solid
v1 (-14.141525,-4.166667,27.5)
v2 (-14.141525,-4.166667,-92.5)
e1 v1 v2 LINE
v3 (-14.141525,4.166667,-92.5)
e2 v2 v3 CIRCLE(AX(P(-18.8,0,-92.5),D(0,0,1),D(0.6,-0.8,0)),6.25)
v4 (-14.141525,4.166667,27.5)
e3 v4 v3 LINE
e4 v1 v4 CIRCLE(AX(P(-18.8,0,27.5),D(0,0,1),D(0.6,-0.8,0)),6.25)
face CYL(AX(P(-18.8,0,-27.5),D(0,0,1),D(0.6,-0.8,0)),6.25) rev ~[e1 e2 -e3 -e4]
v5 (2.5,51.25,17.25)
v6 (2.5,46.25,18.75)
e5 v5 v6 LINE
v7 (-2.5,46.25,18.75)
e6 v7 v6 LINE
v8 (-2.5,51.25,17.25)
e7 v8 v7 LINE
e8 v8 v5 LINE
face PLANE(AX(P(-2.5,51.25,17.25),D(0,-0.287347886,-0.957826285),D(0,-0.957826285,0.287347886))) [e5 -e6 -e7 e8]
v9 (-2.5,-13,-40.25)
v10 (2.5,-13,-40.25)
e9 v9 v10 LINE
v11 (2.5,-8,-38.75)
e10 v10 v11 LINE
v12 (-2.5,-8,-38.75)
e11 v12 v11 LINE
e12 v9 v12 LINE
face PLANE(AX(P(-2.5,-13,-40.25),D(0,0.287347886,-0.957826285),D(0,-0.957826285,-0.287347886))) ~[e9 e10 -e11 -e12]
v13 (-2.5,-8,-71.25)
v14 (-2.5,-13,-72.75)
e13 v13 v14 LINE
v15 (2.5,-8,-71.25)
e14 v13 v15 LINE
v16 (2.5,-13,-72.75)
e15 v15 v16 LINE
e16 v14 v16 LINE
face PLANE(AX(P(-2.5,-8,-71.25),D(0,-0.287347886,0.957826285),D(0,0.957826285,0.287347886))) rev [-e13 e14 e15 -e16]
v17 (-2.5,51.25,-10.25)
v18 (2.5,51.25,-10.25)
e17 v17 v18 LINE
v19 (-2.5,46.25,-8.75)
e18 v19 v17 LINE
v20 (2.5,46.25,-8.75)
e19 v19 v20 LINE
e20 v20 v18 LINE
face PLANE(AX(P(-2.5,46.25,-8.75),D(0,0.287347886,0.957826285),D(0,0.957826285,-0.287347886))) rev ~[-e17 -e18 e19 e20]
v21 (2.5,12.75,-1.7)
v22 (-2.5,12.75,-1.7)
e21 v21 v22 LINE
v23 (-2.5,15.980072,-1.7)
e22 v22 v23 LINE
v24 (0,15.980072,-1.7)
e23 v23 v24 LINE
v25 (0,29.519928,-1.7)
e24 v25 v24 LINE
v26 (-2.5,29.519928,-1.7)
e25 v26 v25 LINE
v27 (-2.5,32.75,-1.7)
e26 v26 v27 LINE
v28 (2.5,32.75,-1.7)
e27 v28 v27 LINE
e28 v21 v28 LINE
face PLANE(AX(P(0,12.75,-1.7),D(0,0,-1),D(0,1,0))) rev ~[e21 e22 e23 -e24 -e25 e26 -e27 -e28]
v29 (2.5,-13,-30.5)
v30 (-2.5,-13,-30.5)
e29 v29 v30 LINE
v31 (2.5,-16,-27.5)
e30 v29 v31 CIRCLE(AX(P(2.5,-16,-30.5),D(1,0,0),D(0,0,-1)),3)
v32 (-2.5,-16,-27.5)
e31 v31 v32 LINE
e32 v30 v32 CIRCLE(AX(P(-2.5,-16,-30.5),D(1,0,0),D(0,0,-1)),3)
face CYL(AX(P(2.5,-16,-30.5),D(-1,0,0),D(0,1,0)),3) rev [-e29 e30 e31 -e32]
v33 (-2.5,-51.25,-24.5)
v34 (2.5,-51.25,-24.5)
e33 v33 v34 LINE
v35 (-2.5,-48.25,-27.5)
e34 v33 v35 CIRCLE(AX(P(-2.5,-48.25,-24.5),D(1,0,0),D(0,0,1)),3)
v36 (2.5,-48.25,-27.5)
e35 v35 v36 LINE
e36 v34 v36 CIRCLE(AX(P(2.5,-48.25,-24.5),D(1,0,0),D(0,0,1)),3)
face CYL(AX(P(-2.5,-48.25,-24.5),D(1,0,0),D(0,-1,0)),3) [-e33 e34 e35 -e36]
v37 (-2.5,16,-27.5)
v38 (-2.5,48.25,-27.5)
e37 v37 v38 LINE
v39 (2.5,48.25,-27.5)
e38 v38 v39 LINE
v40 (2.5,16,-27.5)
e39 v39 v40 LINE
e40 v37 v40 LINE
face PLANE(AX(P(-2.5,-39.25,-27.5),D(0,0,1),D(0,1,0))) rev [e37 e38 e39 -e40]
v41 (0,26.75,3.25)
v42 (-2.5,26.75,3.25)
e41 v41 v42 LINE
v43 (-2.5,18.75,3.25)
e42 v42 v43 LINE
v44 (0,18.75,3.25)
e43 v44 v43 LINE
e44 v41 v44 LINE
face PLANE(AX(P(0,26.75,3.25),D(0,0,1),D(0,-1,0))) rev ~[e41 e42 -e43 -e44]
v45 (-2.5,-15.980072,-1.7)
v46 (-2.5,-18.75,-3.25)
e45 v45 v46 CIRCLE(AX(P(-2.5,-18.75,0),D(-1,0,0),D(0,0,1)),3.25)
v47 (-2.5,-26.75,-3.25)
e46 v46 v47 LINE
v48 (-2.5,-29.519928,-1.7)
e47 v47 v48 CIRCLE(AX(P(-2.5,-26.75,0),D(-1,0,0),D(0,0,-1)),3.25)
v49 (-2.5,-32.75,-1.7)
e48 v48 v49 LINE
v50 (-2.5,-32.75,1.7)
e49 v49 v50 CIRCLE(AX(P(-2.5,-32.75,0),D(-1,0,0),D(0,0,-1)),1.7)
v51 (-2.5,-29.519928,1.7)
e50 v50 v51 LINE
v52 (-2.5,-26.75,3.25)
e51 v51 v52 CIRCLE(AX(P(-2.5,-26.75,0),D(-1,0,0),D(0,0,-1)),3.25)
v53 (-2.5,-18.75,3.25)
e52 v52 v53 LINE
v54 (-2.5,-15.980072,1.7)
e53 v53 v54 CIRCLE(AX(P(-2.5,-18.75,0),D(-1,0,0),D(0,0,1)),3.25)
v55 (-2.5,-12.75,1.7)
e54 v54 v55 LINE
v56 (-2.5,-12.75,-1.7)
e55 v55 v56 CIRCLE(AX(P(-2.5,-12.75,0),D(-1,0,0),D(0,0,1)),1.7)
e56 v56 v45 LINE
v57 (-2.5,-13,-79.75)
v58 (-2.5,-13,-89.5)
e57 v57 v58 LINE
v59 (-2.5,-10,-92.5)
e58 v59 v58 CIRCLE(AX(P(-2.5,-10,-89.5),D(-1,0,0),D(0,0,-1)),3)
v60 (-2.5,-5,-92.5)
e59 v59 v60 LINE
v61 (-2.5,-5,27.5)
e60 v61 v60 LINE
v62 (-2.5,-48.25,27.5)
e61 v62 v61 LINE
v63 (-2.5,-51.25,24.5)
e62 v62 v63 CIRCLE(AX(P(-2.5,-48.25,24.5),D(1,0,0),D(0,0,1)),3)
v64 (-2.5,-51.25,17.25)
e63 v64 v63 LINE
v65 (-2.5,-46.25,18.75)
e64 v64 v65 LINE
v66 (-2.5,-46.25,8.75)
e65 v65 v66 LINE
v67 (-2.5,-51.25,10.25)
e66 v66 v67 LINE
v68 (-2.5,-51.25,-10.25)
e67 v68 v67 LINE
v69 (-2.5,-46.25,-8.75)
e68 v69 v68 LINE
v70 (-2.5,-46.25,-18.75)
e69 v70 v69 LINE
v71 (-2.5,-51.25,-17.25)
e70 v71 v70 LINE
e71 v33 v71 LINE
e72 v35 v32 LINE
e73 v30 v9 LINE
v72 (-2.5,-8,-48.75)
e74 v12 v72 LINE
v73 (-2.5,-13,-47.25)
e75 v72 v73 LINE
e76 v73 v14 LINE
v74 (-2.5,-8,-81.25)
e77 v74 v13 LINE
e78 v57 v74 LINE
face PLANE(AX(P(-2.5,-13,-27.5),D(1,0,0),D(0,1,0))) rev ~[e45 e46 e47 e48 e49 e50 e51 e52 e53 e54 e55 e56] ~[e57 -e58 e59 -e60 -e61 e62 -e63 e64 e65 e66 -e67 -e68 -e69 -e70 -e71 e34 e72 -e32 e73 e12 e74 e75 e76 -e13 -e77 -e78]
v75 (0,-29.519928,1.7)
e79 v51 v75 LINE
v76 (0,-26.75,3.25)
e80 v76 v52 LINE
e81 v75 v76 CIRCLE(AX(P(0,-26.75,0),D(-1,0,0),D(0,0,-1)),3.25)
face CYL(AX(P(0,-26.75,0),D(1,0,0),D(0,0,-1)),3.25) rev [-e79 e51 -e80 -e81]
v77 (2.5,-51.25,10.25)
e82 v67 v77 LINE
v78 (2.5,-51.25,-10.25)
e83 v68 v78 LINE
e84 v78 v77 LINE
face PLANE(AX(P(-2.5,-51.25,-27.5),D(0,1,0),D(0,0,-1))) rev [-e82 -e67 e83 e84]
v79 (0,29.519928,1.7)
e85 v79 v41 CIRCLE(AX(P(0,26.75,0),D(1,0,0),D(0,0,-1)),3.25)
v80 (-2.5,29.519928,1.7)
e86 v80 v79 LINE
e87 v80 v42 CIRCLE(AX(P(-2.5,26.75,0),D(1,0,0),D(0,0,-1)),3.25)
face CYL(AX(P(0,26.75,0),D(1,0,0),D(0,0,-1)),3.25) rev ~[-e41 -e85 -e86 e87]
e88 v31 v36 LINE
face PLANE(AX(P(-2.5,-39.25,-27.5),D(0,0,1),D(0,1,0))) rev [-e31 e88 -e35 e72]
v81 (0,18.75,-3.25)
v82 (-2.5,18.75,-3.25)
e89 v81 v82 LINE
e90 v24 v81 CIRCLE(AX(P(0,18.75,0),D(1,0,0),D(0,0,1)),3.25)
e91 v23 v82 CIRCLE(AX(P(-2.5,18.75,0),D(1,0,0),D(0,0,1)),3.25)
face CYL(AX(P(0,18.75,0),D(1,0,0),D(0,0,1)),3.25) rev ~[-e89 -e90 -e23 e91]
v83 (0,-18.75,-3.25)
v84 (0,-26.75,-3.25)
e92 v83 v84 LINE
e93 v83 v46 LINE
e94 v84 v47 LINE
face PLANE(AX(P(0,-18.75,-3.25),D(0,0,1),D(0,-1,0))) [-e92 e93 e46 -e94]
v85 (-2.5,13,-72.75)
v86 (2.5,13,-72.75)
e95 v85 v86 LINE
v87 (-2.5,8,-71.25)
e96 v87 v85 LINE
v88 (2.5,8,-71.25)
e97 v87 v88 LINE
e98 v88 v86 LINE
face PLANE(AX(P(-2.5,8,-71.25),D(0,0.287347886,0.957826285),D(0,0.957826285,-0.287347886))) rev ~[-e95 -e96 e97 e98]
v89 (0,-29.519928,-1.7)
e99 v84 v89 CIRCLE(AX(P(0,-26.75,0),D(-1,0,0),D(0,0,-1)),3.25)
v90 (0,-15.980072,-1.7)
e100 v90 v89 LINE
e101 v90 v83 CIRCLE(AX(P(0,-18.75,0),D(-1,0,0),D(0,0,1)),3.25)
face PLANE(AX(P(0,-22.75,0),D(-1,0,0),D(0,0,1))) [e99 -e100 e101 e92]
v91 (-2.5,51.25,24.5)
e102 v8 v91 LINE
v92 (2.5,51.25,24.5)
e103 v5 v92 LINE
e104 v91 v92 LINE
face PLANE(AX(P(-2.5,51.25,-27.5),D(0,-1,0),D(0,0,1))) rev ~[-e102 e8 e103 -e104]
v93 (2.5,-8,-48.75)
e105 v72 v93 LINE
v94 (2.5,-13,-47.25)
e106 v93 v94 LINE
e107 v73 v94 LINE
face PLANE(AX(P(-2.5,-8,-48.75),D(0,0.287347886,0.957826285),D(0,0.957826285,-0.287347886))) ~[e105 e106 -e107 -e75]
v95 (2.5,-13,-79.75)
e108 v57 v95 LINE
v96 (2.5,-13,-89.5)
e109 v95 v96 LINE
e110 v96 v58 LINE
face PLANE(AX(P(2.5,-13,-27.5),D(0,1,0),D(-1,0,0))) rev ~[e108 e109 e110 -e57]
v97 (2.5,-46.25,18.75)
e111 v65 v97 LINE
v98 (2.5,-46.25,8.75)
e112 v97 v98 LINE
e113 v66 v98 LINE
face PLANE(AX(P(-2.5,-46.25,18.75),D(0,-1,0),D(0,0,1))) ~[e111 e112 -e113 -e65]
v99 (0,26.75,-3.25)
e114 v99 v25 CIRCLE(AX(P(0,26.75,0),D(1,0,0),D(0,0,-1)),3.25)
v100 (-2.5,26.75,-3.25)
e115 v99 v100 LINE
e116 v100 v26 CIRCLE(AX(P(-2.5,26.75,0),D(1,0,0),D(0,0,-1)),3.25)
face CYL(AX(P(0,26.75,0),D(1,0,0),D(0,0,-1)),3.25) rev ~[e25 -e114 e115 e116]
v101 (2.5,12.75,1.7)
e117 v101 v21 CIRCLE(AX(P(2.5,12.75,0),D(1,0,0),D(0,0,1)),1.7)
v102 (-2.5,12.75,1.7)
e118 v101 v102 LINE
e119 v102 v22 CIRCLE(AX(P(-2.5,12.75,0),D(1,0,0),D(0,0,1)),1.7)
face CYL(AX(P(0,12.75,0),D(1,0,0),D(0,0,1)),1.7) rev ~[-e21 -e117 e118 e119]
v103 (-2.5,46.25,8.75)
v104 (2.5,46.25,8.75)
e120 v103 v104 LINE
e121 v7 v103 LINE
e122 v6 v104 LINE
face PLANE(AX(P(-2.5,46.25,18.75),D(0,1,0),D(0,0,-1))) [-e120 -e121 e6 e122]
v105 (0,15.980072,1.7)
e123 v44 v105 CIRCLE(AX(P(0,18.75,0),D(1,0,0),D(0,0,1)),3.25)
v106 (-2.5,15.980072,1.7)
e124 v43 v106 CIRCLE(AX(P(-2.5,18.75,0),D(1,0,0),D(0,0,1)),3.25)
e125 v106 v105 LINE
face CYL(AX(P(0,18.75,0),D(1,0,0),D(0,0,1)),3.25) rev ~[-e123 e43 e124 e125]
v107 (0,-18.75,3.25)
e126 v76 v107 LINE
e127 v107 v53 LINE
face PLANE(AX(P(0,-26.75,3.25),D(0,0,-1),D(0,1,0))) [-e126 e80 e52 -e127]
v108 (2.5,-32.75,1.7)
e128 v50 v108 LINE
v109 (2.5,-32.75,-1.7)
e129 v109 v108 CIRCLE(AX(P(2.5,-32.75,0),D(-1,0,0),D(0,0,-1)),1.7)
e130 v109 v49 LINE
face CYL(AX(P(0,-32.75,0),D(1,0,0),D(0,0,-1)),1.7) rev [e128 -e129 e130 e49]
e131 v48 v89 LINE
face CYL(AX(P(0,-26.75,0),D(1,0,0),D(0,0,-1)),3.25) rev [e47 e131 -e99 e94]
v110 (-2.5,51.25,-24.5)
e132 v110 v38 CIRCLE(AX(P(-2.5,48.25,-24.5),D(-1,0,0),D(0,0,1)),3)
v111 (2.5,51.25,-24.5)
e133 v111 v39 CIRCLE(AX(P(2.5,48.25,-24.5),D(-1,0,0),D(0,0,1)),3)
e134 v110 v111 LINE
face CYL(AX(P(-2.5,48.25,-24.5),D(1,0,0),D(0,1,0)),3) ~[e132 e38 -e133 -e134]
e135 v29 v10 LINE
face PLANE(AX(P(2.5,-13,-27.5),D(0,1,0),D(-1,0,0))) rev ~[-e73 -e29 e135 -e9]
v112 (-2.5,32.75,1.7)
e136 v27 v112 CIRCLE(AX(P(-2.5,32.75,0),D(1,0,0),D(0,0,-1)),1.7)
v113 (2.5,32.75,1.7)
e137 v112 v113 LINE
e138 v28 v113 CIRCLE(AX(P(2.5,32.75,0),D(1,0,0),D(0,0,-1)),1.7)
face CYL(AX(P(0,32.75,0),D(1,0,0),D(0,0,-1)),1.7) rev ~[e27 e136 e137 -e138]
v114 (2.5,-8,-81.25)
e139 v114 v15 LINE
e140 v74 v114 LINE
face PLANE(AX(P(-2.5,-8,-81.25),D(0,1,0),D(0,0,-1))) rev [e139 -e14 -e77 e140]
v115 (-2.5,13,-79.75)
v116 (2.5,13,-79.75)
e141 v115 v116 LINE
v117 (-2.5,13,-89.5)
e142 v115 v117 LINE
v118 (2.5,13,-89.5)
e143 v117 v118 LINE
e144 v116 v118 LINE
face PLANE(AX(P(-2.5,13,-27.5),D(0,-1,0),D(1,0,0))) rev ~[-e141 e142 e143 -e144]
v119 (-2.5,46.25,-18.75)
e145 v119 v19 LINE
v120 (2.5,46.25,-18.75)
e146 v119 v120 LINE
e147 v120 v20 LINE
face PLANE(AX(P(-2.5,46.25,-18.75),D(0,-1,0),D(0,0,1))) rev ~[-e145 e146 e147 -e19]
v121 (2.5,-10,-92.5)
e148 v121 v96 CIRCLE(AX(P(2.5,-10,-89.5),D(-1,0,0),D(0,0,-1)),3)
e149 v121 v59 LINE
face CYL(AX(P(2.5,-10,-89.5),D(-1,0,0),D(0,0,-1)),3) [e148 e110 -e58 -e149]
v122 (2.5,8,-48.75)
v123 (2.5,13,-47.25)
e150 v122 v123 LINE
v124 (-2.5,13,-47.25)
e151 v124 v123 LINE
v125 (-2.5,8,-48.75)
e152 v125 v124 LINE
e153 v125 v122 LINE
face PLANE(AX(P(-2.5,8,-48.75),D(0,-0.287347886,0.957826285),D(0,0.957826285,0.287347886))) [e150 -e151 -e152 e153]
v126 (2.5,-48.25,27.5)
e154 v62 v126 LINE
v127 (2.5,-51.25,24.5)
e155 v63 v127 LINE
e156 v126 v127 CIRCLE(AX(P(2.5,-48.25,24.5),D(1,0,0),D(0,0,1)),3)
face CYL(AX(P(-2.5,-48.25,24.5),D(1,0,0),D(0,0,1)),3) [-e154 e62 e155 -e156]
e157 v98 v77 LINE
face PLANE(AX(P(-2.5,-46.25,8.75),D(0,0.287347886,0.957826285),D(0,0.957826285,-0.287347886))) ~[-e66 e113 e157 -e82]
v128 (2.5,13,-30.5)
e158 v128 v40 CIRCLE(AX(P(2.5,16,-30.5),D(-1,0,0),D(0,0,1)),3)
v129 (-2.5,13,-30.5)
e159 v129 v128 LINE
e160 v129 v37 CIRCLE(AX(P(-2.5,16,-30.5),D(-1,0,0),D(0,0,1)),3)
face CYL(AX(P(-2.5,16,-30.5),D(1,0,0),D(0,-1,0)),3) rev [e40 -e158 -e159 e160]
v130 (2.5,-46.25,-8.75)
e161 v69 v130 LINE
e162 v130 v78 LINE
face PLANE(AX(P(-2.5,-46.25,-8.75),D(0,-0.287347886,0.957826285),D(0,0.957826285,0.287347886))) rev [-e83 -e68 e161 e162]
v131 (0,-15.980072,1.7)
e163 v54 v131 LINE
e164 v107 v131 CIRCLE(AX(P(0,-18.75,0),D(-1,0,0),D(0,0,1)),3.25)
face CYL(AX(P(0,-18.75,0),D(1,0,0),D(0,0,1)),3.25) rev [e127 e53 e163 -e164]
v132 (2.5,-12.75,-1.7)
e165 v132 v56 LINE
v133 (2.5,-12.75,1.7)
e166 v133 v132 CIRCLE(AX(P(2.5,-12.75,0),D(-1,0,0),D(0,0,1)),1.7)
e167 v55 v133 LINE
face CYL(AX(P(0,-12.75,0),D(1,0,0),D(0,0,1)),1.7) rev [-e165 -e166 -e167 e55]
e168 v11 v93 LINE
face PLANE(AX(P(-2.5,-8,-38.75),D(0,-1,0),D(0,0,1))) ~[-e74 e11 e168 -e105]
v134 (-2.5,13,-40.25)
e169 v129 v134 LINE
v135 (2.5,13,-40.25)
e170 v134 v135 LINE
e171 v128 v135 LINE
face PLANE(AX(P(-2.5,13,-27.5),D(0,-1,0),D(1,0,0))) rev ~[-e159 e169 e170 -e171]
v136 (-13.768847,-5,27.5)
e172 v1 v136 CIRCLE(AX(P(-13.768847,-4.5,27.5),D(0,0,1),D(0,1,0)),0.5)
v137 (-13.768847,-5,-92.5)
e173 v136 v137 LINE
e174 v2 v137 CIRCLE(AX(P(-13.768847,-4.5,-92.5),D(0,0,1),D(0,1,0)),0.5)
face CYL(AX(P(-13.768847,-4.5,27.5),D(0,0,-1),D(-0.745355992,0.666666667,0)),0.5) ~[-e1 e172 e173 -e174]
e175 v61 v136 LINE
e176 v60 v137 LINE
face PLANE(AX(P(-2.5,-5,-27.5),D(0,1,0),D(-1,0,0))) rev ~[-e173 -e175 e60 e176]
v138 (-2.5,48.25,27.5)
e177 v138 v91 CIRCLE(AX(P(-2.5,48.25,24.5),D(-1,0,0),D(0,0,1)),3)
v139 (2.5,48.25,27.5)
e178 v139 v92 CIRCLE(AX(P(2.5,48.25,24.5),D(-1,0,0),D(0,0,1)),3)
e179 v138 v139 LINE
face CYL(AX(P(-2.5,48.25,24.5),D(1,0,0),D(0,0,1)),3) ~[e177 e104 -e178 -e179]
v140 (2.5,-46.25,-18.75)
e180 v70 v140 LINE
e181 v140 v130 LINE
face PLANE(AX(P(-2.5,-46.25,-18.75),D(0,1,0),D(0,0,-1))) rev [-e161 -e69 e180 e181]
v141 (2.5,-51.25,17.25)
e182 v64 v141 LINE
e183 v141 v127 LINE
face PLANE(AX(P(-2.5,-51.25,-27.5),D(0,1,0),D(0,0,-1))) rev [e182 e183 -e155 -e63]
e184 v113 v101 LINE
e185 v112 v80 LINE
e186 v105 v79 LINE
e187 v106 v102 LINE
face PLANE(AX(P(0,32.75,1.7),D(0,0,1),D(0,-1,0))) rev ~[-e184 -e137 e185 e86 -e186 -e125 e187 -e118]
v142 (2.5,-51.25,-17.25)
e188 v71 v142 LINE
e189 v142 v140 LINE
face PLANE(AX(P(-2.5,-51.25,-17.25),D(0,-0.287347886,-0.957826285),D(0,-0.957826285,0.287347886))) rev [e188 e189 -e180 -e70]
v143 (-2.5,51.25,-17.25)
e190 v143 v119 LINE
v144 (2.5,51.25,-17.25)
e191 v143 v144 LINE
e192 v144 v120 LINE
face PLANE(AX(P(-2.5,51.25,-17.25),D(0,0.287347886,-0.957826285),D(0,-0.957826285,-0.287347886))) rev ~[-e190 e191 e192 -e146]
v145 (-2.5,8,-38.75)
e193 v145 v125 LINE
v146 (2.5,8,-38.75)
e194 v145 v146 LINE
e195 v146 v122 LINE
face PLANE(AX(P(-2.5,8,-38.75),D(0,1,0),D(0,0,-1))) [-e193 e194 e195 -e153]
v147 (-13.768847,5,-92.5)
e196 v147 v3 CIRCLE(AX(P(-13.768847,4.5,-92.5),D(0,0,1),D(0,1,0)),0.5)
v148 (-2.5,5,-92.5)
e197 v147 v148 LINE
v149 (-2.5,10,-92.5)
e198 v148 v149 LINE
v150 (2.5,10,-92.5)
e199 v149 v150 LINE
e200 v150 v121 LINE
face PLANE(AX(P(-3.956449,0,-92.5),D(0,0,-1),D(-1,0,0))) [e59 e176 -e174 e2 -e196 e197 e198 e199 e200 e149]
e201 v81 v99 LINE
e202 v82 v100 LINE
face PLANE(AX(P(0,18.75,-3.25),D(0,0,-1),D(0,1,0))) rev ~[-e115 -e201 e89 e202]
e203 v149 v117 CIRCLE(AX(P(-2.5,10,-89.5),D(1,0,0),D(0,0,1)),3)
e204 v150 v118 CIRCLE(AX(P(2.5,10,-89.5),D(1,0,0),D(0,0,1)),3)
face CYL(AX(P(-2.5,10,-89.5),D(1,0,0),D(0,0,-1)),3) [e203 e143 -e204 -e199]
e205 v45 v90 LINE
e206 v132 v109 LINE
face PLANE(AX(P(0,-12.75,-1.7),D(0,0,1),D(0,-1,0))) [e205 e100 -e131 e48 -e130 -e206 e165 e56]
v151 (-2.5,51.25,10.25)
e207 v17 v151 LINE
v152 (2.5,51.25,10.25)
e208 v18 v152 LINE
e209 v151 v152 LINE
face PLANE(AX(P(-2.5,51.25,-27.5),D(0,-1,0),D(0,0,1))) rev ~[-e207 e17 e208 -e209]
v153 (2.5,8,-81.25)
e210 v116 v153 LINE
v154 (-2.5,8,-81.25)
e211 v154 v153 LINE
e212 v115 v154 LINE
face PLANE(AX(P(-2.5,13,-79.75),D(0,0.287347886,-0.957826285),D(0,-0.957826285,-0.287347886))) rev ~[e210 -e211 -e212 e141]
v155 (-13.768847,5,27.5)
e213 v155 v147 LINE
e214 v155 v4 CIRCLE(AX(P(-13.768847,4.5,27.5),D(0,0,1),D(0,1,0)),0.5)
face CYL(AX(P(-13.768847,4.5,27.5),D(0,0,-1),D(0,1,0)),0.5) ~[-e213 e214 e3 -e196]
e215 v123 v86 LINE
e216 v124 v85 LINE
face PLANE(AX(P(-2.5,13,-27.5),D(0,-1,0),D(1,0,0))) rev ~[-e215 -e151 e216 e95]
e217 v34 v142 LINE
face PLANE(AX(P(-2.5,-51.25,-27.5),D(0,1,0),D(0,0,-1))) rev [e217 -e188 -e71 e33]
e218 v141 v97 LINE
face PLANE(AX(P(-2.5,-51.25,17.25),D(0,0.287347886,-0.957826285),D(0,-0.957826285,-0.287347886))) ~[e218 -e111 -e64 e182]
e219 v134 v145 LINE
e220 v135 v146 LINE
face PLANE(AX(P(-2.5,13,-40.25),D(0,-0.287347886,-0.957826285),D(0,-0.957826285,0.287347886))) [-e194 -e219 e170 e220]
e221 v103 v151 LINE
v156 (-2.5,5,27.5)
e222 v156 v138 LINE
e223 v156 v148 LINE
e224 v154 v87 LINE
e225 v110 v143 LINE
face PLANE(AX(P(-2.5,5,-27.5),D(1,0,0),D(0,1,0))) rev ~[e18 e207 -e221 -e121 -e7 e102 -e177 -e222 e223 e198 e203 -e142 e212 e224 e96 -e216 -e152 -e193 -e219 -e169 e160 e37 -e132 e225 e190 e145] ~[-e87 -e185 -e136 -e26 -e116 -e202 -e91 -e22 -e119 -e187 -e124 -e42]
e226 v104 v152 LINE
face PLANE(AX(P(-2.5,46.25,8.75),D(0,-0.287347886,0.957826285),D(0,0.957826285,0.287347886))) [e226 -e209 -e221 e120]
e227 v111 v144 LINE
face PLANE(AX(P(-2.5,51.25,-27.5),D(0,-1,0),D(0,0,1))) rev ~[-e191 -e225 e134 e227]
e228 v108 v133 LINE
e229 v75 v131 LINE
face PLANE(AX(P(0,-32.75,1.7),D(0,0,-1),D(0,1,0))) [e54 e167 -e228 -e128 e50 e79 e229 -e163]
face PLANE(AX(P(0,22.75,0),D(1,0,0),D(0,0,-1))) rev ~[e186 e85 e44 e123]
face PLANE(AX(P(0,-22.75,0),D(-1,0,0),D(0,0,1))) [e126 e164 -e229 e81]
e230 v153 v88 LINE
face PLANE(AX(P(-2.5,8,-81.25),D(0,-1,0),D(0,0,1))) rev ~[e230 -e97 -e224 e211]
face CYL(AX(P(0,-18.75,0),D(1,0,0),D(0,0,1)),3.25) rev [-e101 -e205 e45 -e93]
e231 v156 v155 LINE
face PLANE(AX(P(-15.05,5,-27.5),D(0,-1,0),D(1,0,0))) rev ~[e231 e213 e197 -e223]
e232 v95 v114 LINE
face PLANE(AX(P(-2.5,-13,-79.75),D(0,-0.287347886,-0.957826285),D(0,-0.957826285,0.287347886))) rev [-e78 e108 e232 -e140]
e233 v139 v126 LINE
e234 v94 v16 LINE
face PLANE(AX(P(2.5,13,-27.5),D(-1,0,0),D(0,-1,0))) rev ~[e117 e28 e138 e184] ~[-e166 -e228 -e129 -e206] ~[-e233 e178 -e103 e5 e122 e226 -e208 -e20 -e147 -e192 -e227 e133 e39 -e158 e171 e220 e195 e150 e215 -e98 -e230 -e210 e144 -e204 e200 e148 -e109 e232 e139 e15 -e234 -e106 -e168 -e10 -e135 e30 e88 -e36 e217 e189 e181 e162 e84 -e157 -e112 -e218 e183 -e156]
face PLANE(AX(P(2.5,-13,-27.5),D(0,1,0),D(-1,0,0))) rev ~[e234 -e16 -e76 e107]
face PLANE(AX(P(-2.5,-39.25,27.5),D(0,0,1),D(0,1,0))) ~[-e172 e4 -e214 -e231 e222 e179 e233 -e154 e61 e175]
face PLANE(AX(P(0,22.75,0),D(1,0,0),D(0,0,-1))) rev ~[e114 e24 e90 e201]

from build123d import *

# Parameters (mm, degrees)
SKETCH1_W           = 55
SKETCH1_H           = 78.5
BOSS_EXTRUDE1_DEPTH = 2.5
SKETCH6_W           = 55
SKETCH6_H           = 10
BOSS_EXTRUDE2_DEPTH = 16.3
CUT_EXTRUDE1_DEPTH  = 71.135600803
SKETCH9_W           = 55
SKETCH9_H           = 12
BOSS_EXTRUDE3_DEPTH = 5
CUT_EXTRUDE4_DEPTH  = 5
CUT_EXTRUDE2_DEPTH  = 2.5
BOSS_EXTRUDE4_DEPTH = 65
FILLET1_R           = 0.5
CUT_EXTRUDE3_DEPTH  = 5
FILLET2_R           = 3


with BuildPart() as part:
    # Sketch1 → Boss-Extrude1 (new, symmetric)
    with BuildSketch(Plane(origin=(0, 0, 0), x_dir=(0, 0, -1), z_dir=(1, 0, 0))):
        Rectangle(SKETCH1_W, SKETCH1_H)
        with BuildLine():
            Line((-1.7, -32.75), (-1.7, -12.75))
            ThreePointArc((-1.7, -12.75), (0, -11.05), (1.7, -12.75))
            Line((1.7, -12.75), (1.7, -32.75))
            ThreePointArc((1.7, -32.75), (0, -34.45), (-1.7, -32.75))
        make_face(mode=Mode.SUBTRACT)
        with BuildLine():
            Line((-1.7, 32.75), (-1.7, 12.75))
            ThreePointArc((-1.7, 12.75), (0, 11.05), (1.7, 12.75))
            Line((1.7, 12.75), (1.7, 32.75))
            ThreePointArc((1.7, 32.75), (0, 34.45), (-1.7, 32.75))
        make_face(mode=Mode.SUBTRACT)
    extrude(amount=BOSS_EXTRUDE1_DEPTH, both=True)

    # Sketch6 → Boss-Extrude2 (add)
    with BuildSketch(Plane.ZY.offset(2.5)):
        Rectangle(SKETCH6_W, SKETCH6_H)
    extrude(amount=BOSS_EXTRUDE2_DEPTH)

    # Sketch7 → Cut-Extrude1 (cut, through all)
    with BuildSketch(Plane.XY.offset(27.5)):
        with BuildLine():
            Line((-15.05, 5), (-18.8, 5))
            Line((-18.8, 5), (-18.8, -5))
            Line((-18.8, -5), (-15.05, -5))
            ThreePointArc((-15.05, -5), (-12.55, 0), (-15.05, 5))
        make_face()
    extrude(amount=-CUT_EXTRUDE1_DEPTH, mode=Mode.SUBTRACT)

    # Sketch9 → Boss-Extrude3 (add)
    with BuildSketch(Plane.ZY.offset(2.5)):
        with Locations((0, 45.25)):
            Rectangle(SKETCH9_W, SKETCH9_H)
    boss_extrude3 = extrude(amount=-BOSS_EXTRUDE3_DEPTH)

    # Sketch16 → Cut-Extrude4 (cut)
    with BuildSketch(Plane.ZY.offset(2.5)):
        Polygon((10.25, 51.25), (17.25, 51.25), (18.75, 46.25), (8.75, 46.25), align=None)
        Polygon((-18.75, 46.25), (-8.75, 46.25), (-10.25, 51.25), (-17.25, 51.25), align=None)
    cut_extrude4 = extrude(amount=-CUT_EXTRUDE4_DEPTH, mode=Mode.SUBTRACT)

    # Mirror1: Boss-Extrude3 across plane
    add(boss_extrude3.mirror(Plane.ZX))

    # Sketch10 → Cut-Extrude2 (cut)
    with BuildSketch(Plane(origin=(0, 0, 0), x_dir=(0, 0, -1), z_dir=(1, 0, 0))):
        with BuildLine():
            Line((3.25, -18.75), (3.25, -26.75))
            ThreePointArc((3.25, -26.75), (0, -30), (-3.25, -26.75))
            Line((-3.25, -26.75), (-3.25, -18.75))
            ThreePointArc((-3.25, -18.75), (0, -15.5), (3.25, -18.75))
        make_face()
        with BuildLine():
            Line((3.25, 18.75), (3.25, 26.75))
            ThreePointArc((3.25, 26.75), (0, 30), (-3.25, 26.75))
            Line((-3.25, 26.75), (-3.25, 18.75))
            ThreePointArc((-3.25, 18.75), (0, 15.5), (3.25, 18.75))
        make_face()
    extrude(amount=-CUT_EXTRUDE2_DEPTH, mode=Mode.SUBTRACT)

    # Sketch11 → Boss-Extrude4 (add)
    with BuildSketch(Plane(origin=(0, 0, -27.5), x_dir=(-1, 0, 0), z_dir=(0, 0, -1))):
        with BuildLine():
            Line((-2.5, -13), (2.5, -13))
            Line((2.5, -13), (2.5, -5))
            Line((2.5, -5), (15.05, -5))
            ThreePointArc((15.05, -5), (12.55, 0), (15.05, 5))
            Line((15.05, 5), (2.5, 5))
            Line((2.5, 5), (2.5, 13))
            Line((2.5, 13), (-2.5, 13))
            Line((-2.5, 13), (-2.5, -13))
        make_face()
    extrude(amount=BOSS_EXTRUDE4_DEPTH)

    # Fillet1
    fillet1_edges = [part.edges().sort_by_distance(p)[0] for p in [
        (-15.05, 5, -32.5),
        (-15.05, -5, -32.5),
    ]]
    fillet(fillet1_edges, radius=FILLET1_R)

    # Sketch15 → Cut-Extrude3 (cut)
    with BuildSketch(Plane.ZY.offset(2.5)):
        Polygon((-40.25, 13), (-38.75, 8), (-48.75, 8), (-47.25, 13), align=None)
        Polygon((-72.75, 13), (-79.75, 13), (-81.25, 8), (-71.25, 8), align=None)
    cut_extrude3 = extrude(amount=-CUT_EXTRUDE3_DEPTH, mode=Mode.SUBTRACT)

    # Mirror2: Cut-Extrude3 across plane
    add(cut_extrude3.mirror(Plane.ZX), mode=Mode.SUBTRACT)

    # Mirror3: Cut-Extrude4 across plane
    add(cut_extrude4.mirror(Plane.ZX), mode=Mode.SUBTRACT)

    # Fillet2
    fillet2_edges = [part.edges().sort_by_distance(p)[0] for p in [
        (0, -51.25, 27.5),
        (0, -51.25, -27.5),
        (0, 13, -27.5),
        (0, -13, -27.5),
        (0, 13, -92.5),
        (0, -13, -92.5),
        (0, 51.25, -27.5),
        (0, 51.25, 27.5),
    ]]
    fillet(fillet2_edges, radius=FILLET2_R)


solid = part.part
